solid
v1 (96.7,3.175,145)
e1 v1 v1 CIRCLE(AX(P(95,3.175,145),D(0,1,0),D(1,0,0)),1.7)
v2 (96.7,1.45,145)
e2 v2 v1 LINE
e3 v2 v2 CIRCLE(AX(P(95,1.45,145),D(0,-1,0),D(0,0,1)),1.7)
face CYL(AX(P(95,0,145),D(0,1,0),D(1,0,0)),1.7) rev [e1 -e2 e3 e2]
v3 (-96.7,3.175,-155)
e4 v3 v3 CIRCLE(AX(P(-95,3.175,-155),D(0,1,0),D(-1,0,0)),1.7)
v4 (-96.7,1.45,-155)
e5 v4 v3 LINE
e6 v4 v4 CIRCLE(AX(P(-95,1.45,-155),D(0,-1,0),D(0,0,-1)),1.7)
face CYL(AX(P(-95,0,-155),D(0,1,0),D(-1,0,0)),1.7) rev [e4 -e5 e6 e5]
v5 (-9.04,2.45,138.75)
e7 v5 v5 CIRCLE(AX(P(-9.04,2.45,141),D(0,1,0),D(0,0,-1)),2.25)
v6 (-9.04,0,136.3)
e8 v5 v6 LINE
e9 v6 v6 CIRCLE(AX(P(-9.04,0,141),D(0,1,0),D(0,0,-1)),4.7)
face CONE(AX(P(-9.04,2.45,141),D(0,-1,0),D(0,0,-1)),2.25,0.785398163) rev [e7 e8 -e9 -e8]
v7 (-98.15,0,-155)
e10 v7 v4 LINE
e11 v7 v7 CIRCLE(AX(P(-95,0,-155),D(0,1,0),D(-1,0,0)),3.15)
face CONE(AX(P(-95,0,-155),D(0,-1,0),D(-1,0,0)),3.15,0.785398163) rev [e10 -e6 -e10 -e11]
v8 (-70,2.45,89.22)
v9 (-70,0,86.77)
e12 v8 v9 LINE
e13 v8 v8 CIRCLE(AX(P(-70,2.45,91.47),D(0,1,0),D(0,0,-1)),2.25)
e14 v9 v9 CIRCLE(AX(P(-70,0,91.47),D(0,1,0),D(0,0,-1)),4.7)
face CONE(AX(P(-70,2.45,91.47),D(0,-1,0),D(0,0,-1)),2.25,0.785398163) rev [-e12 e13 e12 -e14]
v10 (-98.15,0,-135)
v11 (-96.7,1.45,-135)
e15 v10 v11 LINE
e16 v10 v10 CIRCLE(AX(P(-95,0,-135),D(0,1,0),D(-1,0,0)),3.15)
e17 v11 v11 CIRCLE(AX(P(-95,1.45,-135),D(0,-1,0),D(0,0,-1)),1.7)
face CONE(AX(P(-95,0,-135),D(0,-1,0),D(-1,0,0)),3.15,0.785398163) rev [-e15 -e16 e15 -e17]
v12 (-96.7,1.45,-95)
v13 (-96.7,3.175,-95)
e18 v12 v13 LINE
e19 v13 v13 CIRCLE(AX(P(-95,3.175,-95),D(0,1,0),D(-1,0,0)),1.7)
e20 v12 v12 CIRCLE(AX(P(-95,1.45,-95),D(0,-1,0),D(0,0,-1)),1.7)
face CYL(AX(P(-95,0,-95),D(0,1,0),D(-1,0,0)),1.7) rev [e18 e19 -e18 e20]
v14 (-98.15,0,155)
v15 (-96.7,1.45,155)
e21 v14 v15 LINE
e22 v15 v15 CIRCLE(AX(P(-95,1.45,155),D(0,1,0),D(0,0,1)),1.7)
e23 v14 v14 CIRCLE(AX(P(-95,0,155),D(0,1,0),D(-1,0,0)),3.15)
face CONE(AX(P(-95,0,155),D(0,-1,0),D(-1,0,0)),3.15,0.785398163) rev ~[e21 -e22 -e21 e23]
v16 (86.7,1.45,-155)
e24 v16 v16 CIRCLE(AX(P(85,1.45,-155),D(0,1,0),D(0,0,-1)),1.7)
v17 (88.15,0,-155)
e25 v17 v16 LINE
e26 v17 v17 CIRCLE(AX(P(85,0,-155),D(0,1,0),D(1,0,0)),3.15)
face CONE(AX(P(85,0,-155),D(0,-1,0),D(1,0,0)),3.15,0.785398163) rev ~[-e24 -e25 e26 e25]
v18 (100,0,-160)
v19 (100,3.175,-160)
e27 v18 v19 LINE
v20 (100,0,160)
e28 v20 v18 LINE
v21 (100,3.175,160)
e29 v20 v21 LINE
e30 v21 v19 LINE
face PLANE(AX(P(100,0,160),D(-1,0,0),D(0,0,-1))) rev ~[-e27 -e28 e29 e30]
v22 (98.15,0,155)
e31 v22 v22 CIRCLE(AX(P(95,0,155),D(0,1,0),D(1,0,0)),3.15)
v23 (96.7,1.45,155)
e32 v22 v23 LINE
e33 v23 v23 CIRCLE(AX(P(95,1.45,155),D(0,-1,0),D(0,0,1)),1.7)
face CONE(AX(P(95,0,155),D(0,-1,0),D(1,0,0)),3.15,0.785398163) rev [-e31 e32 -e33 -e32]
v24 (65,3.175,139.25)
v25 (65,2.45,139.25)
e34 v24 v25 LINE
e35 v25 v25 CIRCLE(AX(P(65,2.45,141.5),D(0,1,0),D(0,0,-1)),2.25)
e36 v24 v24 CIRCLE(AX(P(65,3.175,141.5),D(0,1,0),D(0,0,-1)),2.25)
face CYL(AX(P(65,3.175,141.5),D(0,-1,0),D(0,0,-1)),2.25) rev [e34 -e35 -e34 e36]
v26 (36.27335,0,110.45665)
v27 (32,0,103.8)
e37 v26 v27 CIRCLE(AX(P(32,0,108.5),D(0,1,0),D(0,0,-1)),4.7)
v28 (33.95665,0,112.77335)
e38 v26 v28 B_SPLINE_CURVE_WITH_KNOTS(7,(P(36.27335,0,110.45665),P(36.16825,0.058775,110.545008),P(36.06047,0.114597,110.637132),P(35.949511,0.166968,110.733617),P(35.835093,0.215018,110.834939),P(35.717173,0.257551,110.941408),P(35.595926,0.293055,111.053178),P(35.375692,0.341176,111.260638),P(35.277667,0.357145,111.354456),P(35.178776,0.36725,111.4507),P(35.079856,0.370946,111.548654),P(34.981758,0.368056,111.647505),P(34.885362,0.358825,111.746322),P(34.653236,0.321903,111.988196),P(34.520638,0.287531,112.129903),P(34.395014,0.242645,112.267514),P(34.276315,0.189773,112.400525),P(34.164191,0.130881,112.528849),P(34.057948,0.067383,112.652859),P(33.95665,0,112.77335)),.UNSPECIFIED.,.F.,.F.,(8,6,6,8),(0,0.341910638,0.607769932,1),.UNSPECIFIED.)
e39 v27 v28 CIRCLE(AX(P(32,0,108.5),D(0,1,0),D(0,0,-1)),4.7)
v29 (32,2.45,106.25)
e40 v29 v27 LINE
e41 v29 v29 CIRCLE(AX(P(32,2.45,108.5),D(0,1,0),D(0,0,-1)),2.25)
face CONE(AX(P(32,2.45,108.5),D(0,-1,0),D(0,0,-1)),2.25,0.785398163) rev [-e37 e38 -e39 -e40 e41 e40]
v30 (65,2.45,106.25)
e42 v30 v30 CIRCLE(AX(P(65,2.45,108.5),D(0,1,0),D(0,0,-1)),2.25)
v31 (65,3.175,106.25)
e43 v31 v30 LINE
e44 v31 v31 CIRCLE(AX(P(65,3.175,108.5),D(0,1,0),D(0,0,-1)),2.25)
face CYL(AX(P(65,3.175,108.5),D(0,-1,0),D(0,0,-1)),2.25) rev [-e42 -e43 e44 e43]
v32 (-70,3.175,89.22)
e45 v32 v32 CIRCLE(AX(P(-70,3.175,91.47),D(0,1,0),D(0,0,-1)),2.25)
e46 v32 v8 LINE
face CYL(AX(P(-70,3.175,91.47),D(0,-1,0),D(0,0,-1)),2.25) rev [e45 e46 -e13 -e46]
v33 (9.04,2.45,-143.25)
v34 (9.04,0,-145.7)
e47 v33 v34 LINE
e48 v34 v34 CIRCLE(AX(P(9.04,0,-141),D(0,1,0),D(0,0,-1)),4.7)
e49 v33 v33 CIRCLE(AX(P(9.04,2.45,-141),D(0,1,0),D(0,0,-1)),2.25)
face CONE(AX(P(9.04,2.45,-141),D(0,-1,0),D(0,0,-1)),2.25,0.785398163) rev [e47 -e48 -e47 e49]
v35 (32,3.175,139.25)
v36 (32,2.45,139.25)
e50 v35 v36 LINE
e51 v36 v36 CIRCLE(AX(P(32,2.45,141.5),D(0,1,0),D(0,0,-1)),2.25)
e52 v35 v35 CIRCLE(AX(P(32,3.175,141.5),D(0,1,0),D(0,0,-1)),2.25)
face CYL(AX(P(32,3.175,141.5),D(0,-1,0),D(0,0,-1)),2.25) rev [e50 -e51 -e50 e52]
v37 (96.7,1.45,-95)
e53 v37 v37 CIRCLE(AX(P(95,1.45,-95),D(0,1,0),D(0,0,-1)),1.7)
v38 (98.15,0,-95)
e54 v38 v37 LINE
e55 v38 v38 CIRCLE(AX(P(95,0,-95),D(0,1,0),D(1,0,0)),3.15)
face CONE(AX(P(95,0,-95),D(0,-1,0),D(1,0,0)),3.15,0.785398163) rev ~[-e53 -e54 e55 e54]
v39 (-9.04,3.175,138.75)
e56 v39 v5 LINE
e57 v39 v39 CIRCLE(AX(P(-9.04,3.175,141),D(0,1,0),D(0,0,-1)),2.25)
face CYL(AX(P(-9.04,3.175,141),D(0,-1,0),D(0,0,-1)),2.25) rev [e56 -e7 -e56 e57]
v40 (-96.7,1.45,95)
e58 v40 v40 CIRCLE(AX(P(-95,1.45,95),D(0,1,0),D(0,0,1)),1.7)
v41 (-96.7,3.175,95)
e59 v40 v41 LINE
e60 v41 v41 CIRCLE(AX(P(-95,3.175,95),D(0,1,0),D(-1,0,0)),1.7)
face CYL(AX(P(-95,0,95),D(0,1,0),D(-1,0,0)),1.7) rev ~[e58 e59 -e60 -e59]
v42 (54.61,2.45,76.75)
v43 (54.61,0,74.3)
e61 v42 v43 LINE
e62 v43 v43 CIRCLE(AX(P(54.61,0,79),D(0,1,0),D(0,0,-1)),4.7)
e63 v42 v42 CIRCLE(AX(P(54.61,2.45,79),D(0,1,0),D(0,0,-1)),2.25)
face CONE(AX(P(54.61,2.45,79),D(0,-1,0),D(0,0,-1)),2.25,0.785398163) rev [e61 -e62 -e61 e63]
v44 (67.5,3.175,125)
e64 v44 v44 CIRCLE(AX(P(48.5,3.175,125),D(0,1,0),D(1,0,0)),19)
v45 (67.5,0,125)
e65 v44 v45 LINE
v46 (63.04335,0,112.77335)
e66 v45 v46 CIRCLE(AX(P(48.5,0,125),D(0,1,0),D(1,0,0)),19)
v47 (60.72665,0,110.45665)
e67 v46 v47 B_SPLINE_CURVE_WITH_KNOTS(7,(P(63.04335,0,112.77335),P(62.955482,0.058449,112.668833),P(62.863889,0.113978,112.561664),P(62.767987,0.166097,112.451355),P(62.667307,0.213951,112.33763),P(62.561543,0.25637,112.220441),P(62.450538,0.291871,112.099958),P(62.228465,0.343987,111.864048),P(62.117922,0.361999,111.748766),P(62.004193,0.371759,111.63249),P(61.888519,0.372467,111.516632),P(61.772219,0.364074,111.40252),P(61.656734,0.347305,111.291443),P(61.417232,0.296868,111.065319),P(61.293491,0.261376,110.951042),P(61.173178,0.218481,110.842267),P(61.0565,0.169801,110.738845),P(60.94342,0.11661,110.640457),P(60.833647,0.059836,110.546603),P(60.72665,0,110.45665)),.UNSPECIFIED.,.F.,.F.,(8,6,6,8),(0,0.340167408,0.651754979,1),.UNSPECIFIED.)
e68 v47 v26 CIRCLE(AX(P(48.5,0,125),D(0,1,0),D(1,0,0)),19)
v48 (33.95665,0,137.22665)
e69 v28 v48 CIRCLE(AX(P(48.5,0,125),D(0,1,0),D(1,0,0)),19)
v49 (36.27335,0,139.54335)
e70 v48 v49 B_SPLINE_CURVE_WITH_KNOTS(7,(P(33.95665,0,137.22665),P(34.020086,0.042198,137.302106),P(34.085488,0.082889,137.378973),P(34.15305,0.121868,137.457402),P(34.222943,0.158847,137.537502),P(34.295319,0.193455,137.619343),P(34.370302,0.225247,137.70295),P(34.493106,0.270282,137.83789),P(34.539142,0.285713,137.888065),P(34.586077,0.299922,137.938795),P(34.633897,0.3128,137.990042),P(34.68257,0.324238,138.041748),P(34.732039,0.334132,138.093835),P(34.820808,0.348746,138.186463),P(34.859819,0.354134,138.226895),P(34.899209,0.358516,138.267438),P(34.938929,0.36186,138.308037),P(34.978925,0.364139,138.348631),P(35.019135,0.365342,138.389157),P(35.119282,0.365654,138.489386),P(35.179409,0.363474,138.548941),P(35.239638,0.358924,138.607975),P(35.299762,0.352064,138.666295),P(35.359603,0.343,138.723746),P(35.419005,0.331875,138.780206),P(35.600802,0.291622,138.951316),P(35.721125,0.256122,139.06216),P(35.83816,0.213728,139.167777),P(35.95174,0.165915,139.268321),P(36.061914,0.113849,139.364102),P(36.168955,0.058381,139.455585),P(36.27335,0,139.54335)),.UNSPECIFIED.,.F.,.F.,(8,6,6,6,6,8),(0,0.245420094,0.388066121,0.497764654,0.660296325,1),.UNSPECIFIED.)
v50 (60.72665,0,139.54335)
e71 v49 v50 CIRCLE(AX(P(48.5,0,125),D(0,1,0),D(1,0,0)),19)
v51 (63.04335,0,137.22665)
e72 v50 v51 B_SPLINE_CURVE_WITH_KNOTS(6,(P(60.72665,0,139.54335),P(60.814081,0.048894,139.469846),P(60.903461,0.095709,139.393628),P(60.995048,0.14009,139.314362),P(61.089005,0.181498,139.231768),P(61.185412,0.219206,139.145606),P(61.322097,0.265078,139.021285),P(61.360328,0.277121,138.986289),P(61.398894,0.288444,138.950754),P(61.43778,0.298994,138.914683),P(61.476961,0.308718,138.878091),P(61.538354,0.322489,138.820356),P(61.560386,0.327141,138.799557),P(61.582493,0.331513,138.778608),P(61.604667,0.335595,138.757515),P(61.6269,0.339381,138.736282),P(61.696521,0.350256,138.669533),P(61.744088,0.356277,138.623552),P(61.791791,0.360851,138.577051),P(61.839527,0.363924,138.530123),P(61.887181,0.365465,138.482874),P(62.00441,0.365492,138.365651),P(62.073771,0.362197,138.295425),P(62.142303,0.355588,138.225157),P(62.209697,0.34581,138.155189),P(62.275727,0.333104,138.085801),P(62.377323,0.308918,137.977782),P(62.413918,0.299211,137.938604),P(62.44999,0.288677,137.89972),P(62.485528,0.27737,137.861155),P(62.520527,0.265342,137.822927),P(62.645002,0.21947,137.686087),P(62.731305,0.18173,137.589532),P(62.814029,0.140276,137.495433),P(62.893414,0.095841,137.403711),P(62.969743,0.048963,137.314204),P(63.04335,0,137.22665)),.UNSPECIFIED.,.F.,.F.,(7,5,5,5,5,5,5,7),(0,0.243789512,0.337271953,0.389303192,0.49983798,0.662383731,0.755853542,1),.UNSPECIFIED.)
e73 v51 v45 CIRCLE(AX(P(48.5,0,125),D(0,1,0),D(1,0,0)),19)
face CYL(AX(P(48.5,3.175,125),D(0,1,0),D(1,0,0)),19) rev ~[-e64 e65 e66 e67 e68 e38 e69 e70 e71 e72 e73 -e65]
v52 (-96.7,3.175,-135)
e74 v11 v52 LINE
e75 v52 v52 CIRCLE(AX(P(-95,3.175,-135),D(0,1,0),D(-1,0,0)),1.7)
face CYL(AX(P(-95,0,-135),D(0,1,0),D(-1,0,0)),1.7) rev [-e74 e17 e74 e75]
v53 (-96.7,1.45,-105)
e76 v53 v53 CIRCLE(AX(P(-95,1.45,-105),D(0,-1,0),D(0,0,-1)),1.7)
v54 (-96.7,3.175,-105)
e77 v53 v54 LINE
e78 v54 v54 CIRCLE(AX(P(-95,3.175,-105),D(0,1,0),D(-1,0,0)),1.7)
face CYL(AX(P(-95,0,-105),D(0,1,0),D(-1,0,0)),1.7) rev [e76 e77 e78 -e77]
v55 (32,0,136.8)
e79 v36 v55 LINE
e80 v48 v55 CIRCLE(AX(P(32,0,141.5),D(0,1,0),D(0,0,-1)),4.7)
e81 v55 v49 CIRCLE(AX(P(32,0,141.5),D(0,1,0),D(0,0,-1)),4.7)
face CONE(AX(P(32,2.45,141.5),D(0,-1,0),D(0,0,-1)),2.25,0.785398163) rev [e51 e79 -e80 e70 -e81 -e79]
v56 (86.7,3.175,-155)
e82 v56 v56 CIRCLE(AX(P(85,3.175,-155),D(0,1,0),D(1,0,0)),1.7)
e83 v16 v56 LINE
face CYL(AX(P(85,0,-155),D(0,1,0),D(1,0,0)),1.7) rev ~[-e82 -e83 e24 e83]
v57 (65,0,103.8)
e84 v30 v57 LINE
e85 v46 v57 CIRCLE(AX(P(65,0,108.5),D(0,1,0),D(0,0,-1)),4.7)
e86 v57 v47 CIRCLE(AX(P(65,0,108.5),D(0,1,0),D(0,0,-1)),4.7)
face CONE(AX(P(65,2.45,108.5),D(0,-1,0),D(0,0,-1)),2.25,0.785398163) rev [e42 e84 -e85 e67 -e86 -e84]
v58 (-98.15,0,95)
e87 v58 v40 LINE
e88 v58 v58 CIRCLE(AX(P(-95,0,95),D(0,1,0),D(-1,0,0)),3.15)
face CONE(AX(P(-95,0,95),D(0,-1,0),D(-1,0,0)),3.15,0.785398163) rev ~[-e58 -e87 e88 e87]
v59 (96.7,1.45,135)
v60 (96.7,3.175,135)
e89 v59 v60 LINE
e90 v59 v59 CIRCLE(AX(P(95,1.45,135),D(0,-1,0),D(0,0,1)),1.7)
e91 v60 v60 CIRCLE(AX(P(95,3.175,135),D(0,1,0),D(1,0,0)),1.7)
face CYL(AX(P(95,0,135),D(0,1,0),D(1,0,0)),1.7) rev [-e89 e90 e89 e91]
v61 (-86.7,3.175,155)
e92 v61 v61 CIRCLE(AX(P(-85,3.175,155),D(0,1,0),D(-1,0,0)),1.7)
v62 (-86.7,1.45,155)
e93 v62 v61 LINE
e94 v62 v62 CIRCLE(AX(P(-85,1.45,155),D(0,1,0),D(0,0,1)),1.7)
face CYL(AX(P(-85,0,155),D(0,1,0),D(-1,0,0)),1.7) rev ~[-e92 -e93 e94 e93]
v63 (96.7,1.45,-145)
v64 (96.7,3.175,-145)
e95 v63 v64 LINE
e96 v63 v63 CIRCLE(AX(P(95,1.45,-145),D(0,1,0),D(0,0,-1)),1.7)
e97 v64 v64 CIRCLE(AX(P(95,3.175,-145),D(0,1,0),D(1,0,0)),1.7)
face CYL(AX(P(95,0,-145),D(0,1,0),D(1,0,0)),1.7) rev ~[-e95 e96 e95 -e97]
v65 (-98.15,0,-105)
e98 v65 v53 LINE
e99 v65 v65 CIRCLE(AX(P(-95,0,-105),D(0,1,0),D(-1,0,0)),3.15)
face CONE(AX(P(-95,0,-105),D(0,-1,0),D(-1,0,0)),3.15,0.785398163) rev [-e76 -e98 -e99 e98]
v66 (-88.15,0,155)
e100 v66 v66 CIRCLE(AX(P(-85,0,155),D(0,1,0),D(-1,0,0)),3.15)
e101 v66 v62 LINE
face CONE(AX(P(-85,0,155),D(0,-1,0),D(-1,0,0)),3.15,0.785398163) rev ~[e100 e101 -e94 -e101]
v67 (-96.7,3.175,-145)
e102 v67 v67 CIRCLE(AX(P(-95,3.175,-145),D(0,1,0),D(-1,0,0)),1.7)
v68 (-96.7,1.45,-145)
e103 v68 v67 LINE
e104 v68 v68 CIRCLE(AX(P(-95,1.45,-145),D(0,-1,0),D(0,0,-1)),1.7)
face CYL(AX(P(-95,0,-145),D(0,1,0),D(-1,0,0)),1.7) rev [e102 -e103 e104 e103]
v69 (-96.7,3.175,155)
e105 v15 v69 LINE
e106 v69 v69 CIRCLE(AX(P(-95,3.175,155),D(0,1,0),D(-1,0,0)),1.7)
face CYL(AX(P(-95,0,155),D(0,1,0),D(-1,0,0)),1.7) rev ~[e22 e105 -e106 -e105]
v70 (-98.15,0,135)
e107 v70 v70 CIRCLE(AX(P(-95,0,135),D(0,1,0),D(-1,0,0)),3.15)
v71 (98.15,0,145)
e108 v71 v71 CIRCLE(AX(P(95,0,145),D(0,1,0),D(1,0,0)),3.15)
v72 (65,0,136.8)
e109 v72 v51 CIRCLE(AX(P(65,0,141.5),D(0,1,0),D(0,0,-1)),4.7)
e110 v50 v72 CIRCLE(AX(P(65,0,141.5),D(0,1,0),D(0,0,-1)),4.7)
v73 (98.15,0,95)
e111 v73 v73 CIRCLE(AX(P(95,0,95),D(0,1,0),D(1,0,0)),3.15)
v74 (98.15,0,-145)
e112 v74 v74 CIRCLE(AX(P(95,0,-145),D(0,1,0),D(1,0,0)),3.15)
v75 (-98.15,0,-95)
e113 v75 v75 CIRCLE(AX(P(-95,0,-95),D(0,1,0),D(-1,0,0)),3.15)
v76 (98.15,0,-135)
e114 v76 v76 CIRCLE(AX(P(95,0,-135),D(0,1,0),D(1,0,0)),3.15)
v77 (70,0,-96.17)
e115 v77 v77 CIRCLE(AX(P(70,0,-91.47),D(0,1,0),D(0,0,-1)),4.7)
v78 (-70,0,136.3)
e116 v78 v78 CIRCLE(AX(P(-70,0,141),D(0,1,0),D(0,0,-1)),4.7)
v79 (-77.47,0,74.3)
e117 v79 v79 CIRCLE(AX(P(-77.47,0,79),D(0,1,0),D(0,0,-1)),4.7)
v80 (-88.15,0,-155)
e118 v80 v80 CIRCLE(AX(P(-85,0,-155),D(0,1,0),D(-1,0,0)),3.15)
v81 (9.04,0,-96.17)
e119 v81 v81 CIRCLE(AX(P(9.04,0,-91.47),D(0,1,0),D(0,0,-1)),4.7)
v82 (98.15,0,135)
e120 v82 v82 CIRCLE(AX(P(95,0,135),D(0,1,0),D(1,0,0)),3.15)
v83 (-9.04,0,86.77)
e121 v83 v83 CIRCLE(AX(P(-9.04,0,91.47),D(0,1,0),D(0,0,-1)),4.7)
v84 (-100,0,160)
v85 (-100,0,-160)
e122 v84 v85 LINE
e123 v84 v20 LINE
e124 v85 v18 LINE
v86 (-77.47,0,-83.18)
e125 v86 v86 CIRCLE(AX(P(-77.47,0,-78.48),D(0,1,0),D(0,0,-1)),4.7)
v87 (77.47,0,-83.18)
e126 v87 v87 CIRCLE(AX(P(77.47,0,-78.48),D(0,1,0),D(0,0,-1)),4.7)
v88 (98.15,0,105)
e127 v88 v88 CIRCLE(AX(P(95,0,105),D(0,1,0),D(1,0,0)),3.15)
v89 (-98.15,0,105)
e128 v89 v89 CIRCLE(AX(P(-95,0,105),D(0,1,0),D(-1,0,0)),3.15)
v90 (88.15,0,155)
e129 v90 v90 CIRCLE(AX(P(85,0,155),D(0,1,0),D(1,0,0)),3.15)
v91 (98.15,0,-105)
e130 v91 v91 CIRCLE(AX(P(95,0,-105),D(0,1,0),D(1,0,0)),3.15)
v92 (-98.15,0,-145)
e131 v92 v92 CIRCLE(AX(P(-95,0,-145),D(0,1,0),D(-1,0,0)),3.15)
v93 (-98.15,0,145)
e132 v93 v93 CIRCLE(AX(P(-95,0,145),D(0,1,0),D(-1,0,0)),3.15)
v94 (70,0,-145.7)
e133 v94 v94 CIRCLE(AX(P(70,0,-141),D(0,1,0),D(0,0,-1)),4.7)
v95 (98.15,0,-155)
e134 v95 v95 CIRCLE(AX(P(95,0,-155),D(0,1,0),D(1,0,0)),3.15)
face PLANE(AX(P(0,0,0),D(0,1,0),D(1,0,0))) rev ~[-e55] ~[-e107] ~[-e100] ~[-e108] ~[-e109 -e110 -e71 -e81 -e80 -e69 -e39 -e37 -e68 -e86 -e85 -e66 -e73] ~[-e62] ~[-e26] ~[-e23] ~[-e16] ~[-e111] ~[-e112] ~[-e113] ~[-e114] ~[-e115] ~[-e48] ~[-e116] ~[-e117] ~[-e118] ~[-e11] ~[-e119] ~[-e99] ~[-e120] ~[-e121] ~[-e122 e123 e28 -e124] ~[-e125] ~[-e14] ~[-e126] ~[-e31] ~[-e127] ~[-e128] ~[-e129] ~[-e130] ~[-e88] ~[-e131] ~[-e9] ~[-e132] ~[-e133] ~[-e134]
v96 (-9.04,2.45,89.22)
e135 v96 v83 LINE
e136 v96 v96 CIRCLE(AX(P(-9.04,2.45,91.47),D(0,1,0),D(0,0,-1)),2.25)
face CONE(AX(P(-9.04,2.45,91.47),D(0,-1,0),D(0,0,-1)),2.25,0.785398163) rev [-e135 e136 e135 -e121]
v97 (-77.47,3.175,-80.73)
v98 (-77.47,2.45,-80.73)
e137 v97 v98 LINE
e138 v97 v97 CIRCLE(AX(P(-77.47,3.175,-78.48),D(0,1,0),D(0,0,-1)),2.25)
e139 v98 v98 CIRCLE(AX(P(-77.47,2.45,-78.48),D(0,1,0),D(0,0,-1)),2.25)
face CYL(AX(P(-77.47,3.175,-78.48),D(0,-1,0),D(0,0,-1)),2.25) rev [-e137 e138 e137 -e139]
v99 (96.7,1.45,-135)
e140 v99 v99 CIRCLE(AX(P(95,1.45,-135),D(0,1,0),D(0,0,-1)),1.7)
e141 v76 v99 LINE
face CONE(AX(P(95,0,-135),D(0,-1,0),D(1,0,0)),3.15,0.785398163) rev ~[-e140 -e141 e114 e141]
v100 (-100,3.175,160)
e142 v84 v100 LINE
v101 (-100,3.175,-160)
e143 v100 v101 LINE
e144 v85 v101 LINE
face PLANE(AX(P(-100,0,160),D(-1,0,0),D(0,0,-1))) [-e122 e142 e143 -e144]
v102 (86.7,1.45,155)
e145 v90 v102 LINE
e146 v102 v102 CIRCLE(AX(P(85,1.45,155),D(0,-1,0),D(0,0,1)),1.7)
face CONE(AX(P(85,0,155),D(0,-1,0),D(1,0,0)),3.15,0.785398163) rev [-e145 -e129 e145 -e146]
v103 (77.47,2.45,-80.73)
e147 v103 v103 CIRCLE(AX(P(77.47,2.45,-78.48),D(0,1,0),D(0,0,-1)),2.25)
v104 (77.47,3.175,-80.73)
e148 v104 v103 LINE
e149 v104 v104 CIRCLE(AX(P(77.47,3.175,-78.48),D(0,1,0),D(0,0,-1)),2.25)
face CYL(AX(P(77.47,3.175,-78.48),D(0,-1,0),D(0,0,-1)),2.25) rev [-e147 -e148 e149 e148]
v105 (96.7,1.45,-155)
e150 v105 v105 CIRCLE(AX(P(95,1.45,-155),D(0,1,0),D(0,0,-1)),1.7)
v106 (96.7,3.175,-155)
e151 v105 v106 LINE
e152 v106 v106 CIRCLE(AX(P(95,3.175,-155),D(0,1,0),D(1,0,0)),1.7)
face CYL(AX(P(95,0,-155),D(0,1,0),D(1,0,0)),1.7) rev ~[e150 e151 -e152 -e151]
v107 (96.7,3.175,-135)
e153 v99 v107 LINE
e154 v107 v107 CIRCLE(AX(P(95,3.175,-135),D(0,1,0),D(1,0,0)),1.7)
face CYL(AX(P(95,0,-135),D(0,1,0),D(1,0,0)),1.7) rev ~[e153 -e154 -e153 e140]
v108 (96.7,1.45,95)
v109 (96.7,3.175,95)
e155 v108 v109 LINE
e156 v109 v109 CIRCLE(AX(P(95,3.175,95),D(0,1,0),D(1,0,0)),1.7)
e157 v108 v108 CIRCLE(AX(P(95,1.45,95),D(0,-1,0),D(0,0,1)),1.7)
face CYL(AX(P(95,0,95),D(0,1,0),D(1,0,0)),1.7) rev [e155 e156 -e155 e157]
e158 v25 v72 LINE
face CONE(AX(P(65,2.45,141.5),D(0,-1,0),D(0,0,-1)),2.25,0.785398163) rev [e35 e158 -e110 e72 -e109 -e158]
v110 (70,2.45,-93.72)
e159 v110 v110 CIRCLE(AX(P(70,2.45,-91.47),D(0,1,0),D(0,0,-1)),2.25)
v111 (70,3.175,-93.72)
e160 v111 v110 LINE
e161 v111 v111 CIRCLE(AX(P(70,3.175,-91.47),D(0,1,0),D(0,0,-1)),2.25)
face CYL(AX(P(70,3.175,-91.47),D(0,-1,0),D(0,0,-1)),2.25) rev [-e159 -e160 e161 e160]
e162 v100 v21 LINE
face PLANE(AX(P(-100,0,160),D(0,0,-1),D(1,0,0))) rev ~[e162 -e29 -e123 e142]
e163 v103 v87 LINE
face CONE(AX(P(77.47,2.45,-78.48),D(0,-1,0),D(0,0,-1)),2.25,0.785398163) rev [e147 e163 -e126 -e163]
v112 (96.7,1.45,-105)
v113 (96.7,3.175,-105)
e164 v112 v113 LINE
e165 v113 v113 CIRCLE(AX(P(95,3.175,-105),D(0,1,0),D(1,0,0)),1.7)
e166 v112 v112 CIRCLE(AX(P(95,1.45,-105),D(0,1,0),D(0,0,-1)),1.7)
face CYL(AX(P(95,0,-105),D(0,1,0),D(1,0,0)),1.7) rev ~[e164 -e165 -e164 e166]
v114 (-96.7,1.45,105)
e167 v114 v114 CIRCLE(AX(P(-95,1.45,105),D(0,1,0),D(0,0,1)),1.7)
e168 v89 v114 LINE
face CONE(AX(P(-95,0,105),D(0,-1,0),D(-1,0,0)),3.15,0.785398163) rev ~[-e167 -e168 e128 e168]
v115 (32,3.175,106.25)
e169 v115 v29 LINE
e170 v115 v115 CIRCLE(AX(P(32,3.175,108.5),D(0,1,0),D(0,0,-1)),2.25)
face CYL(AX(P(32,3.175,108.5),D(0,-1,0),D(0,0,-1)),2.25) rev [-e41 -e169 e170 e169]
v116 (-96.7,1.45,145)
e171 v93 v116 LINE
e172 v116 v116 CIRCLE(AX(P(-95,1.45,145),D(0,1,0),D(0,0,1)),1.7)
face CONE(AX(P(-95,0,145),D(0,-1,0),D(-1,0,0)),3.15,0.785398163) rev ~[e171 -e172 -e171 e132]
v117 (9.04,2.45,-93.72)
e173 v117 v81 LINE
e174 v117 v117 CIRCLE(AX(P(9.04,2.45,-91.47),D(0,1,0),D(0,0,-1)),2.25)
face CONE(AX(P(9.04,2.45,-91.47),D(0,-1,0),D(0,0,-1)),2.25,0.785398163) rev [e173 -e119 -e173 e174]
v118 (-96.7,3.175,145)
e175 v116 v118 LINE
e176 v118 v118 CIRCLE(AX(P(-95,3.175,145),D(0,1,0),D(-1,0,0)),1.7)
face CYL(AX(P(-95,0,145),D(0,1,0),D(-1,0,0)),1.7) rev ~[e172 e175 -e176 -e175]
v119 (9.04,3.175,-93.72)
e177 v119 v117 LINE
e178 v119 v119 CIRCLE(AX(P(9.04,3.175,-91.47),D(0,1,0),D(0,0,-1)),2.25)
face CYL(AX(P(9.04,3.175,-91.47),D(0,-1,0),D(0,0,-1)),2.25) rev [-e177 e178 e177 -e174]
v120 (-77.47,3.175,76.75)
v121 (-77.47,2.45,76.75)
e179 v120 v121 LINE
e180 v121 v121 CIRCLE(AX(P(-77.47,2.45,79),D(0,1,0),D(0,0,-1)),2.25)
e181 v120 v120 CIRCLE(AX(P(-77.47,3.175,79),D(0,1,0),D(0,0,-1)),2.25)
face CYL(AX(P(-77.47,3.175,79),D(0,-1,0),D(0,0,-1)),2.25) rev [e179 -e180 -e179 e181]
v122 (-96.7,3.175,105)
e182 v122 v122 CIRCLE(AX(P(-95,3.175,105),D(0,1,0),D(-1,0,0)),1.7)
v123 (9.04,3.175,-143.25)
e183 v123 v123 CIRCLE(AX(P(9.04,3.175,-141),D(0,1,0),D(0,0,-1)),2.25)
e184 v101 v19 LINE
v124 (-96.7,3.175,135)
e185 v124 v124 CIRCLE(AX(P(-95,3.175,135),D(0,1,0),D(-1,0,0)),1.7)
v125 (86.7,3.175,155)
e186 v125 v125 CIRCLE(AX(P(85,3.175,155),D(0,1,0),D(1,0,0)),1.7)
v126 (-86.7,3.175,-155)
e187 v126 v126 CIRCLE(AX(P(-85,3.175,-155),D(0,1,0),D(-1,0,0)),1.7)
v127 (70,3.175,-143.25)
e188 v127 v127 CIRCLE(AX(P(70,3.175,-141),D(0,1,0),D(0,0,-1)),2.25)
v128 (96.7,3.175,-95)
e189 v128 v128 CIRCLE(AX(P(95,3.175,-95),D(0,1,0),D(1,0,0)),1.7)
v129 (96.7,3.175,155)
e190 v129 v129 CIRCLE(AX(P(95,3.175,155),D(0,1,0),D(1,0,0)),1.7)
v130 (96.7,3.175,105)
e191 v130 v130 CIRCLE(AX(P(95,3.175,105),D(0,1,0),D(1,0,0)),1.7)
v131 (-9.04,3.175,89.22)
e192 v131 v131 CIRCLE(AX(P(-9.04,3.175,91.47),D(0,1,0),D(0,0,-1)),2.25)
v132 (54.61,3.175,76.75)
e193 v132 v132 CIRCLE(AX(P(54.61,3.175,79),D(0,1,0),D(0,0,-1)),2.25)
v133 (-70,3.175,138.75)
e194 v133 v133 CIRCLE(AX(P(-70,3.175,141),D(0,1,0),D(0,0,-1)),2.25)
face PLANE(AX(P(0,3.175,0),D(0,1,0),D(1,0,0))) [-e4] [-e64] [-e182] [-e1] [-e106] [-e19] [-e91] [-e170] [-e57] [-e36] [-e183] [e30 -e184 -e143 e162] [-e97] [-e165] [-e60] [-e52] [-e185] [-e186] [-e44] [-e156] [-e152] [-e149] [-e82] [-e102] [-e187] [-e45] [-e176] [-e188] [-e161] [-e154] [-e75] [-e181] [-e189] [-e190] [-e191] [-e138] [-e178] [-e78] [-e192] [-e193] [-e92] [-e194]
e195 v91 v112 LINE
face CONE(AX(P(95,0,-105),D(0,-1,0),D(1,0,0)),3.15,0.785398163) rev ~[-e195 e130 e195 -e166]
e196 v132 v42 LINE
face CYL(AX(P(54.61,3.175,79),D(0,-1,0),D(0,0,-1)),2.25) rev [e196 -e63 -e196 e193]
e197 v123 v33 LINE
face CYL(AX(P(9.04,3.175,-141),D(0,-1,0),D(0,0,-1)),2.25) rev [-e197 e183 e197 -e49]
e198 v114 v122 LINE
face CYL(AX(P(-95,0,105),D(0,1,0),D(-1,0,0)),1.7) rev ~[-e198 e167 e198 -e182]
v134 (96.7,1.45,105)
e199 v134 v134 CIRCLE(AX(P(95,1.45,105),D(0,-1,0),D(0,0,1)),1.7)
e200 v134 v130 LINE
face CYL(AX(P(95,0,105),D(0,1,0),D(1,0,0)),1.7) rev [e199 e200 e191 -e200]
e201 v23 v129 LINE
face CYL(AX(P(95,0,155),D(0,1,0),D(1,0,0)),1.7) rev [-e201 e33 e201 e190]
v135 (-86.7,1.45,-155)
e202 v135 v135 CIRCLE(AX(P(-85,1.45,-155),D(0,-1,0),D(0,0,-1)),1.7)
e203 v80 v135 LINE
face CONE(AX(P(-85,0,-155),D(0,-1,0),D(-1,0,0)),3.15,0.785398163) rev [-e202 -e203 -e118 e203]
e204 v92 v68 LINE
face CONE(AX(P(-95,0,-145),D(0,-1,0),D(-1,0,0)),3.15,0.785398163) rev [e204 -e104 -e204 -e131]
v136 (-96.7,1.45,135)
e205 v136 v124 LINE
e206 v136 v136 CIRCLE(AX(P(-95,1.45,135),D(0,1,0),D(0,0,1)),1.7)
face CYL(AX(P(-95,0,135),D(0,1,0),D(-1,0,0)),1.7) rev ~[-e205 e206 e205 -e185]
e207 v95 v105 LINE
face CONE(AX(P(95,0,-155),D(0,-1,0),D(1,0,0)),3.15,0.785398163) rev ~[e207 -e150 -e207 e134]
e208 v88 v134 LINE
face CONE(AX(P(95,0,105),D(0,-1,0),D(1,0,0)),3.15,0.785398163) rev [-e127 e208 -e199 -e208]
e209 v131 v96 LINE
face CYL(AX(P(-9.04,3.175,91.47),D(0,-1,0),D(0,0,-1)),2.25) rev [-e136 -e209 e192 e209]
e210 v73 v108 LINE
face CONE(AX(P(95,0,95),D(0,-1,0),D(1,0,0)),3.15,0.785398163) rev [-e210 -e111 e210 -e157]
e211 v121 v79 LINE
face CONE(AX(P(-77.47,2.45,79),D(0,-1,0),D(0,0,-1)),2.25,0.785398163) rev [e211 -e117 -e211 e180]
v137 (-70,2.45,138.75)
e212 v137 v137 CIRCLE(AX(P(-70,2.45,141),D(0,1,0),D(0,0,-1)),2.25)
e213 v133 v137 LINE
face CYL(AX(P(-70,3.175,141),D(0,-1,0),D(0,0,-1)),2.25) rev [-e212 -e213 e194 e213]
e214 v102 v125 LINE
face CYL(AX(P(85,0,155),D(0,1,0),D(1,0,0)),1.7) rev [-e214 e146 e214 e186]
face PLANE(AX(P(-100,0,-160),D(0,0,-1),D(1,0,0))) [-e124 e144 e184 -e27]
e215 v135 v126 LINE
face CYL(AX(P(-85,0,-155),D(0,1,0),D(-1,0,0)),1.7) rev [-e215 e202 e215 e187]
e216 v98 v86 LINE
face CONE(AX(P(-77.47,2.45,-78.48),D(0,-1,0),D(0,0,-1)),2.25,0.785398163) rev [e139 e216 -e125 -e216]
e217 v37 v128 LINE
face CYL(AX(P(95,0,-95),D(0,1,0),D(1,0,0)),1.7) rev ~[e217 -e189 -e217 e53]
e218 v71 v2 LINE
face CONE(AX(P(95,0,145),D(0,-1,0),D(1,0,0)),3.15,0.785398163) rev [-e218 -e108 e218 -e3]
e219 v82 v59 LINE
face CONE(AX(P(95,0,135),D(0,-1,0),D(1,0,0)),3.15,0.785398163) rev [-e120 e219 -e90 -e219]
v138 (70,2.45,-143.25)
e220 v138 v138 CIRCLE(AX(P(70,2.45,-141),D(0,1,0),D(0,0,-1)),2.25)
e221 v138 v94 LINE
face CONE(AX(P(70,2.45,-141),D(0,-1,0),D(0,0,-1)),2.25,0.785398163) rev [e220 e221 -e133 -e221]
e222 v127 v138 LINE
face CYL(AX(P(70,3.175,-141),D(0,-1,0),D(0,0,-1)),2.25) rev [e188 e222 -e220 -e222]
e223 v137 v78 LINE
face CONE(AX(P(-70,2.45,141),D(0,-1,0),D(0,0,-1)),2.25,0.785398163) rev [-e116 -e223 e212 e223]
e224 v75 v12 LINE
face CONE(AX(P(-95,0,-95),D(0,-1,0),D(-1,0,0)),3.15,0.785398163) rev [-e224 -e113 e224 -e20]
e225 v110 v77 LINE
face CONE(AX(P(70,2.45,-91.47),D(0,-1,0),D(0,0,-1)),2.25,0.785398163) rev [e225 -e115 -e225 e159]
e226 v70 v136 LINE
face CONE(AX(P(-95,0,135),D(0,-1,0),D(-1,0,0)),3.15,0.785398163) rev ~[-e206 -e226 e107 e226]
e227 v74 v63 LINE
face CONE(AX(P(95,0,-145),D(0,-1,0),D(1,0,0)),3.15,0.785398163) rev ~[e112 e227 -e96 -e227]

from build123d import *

# Parameters (mm, degrees)
SKETCH1_W                                       = 200
SKETCH1_H                                       = 320
BOSS_EXTRUDE1_DEPTH                             = 3.175
CSK_FOR_M3_FLAT_HEAD_MACHINE_SCREW1_D           = 3.4
CSK_FOR_M3_FLAT_HEAD_MACHINE_SCREW1_CSINK_D     = 6.3
CSK_FOR_M3_FLAT_HEAD_MACHINE_SCREW1_CSINK_ANGLE = 90
MIRROR2_COPY_1_D                                = 3.4
MIRROR2_COPY_1_CSINK_D                          = 6.3
MIRROR2_COPY_1_CSINK_ANGLE                      = 90
CSK_FOR_M4_FLAT_HEAD_MACHINE_SCREW1_AT_2_COUNT  = 2
CSK_FOR_M4_FLAT_HEAD_MACHINE_SCREW1_AT_2_PITCH  = 64.709214954
CSK_FOR_M4_FLAT_HEAD_MACHINE_SCREW1_AT_3_COUNT  = 2
CSK_FOR_M4_FLAT_HEAD_MACHINE_SCREW1_AT_3_PITCH  = 44.433123905
CSK_FOR_M4_FLAT_HEAD_MACHINE_SCREW1_AT_4_COUNT  = 2
CSK_FOR_M4_FLAT_HEAD_MACHINE_SCREW1_AT_4_PITCH  = 75.973301231
CSK_FOR_M4_FLAT_HEAD_MACHINE_SCREW1_AT_5_COUNT  = 2
CSK_FOR_M4_FLAT_HEAD_MACHINE_SCREW1_AT_5_PITCH  = 78.545162168
CSK_FOR_M4_FLAT_HEAD_MACHINE_SCREW1_AT_6_COUNT  = 2
CSK_FOR_M4_FLAT_HEAD_MACHINE_SCREW1_AT_6_PITCH  = 60.96
CSK_FOR_M4_FLAT_HEAD_MACHINE_SCREW1_AT_7_COUNT  = 2
CSK_FOR_M4_FLAT_HEAD_MACHINE_SCREW1_AT_7_PITCH  = 49.53
CSK_FOR_M4_FLAT_HEAD_MACHINE_SCREW1_AT_8_COUNT  = 2
CSK_FOR_M4_FLAT_HEAD_MACHINE_SCREW1_AT_8_PITCH  = 89.358393562
CSK_FOR_M4_FLAT_HEAD_MACHINE_SCREW1_AT_9_COUNT  = 2
CSK_FOR_M4_FLAT_HEAD_MACHINE_SCREW1_AT_9_PITCH  = 245.539452023
CSK_FOR_M4_FLAT_HEAD_MACHINE_SCREW1_AT_1_COUNT  = 2
CSK_FOR_M4_FLAT_HEAD_MACHINE_SCREW1_AT_1_PITCH  = 233.172012257
CSK_FOR_M4_FLAT_HEAD_MACHINE_SCREW1_2_COUNT     = 2
CSK_FOR_M4_FLAT_HEAD_MACHINE_SCREW1_2_PITCH     = 183.831254144
CSK_FOR_M4_FLAT_HEAD_MACHINE_SCREW1_3_COUNT     = 2
CSK_FOR_M4_FLAT_HEAD_MACHINE_SCREW1_3_PITCH     = 199.284633627
CSK_FOR_M4_FLAT_HEAD_MACHINE_SCREW1_4_COUNT     = 2
CSK_FOR_M4_FLAT_HEAD_MACHINE_SCREW1_4_PITCH     = 64.860029294
CSK_FOR_M4_FLAT_HEAD_MACHINE_SCREW1_5_COUNT     = 2
CSK_FOR_M4_FLAT_HEAD_MACHINE_SCREW1_5_PITCH     = 190.701291553
CSK_FOR_M4_FLAT_HEAD_MACHINE_SCREW1_6_COUNT     = 2
CSK_FOR_M4_FLAT_HEAD_MACHINE_SCREW1_6_PITCH     = 183.209354019
CSK_FOR_M4_FLAT_HEAD_MACHINE_SCREW1_7_COUNT     = 2
CSK_FOR_M4_FLAT_HEAD_MACHINE_SCREW1_7_PITCH     = 69.556924889
SKETCH8_R                                       = 19
CUT_EXTRUDE1_DEPTH                              = 4.175


with BuildPart() as part:
    # Sketch1 → Boss-Extrude1 (new body)
    with BuildSketch(Plane(origin=(0, 0, 0), x_dir=(1, 0, 0), z_dir=(0, 1, 0))):
        Rectangle(SKETCH1_W, SKETCH1_H)
    extrude(amount=BOSS_EXTRUDE1_DEPTH)

    # CSK for M3 Flat Head Machine Screw1 (through all)
    with Locations(Plane.XZ):
        with Locations((-95, 155), (-85, 155), (-95, 145), (-95, 135), (-95, 105), (-95, 95)):
            csk_for_m3_flat_head_machine_screw1 = CounterSinkHole(CSK_FOR_M3_FLAT_HEAD_MACHINE_SCREW1_D / 2, CSK_FOR_M3_FLAT_HEAD_MACHINE_SCREW1_CSINK_D / 2, counter_sink_angle=CSK_FOR_M3_FLAT_HEAD_MACHINE_SCREW1_CSINK_ANGLE)

    # Mirror1: CSK for M3 Flat Head Machine Screw1 across plane
    add(csk_for_m3_flat_head_machine_screw1.mirror(Plane(origin=(0, 0, 0), x_dir=(0, 0, 1), z_dir=(1, 0, 0))), mode=Mode.SUBTRACT)

    # Mirror2: CSK for M3 Flat Head Machine Screw1 across plane
    add(csk_for_m3_flat_head_machine_screw1.mirror(Plane.XY), mode=Mode.SUBTRACT)

    # Mirror2 copy 1 (through all)
    with Locations(Plane(origin=(0, 0, 0), x_dir=(-1, 0, 0), z_dir=(0, -1, 0))):
        with Locations((-95, 155), (-85, 155), (-95, 145), (-95, 135), (-95, 105), (-95, 95)):
            CounterSinkHole(MIRROR2_COPY_1_D / 2, MIRROR2_COPY_1_CSINK_D / 2, counter_sink_angle=MIRROR2_COPY_1_CSINK_ANGLE)

    # Sketch6 → CSK for M4 Flat Head Machine Screw1 (revolve, cut)
    with BuildSketch(Plane(origin=(-9.04, 0, 91.47), x_dir=(0, 0, -1), z_dir=(1, 0, 0))):
        Polygon((0, 0), (0, 3.175), (2.25, 3.175), (2.25, 2.45), (4.7, 0), align=None)
    csk_for_m4_flat_head_machine_screw1 = revolve(axis=Axis((-9.04, -6.35, 91.47), (0, 1, 0)), mode=Mode.SUBTRACT)

    # CSK for M4 Flat Head Machine Screw1 at 2: CSK for M4 Flat Head Machine Screw1 ×2
    with Locations(*[Vector(0.634221881, 0, 0.773151089) * (i * CSK_FOR_M4_FLAT_HEAD_MACHINE_SCREW1_AT_2_PITCH) for i in range(1, CSK_FOR_M4_FLAT_HEAD_MACHINE_SCREW1_AT_2_COUNT)]):
        add(csk_for_m4_flat_head_machine_screw1, mode=Mode.SUBTRACT)

    # CSK for M4 Flat Head Machine Screw1 at 3: CSK for M4 Flat Head Machine Screw1 ×2
    with Locations(*[Vector(0.923635261, 0, 0.383272624) * (i * CSK_FOR_M4_FLAT_HEAD_MACHINE_SCREW1_AT_3_PITCH) for i in range(1, CSK_FOR_M4_FLAT_HEAD_MACHINE_SCREW1_AT_3_COUNT)]):
        add(csk_for_m4_flat_head_machine_screw1, mode=Mode.SUBTRACT)

    # CSK for M4 Flat Head Machine Screw1 at 4: CSK for M4 Flat Head Machine Screw1 ×2
    with Locations(*[Vector(0.974552886, 0, 0.224157694) * (i * CSK_FOR_M4_FLAT_HEAD_MACHINE_SCREW1_AT_4_PITCH) for i in range(1, CSK_FOR_M4_FLAT_HEAD_MACHINE_SCREW1_AT_4_COUNT)]):
        add(csk_for_m4_flat_head_machine_screw1, mode=Mode.SUBTRACT)

    # CSK for M4 Flat Head Machine Screw1 at 5: CSK for M4 Flat Head Machine Screw1 ×2
    with Locations(*[Vector(-0.776114, 0, 0.630592625) * (i * CSK_FOR_M4_FLAT_HEAD_MACHINE_SCREW1_AT_5_PITCH) for i in range(1, CSK_FOR_M4_FLAT_HEAD_MACHINE_SCREW1_AT_5_COUNT)]):
        add(csk_for_m4_flat_head_machine_screw1, mode=Mode.SUBTRACT)

    # CSK for M4 Flat Head Machine Screw1 at 6: CSK for M4 Flat Head Machine Screw1 ×2
    with Locations(*[(-i * CSK_FOR_M4_FLAT_HEAD_MACHINE_SCREW1_AT_6_PITCH, 0, 0) for i in range(1, CSK_FOR_M4_FLAT_HEAD_MACHINE_SCREW1_AT_6_COUNT)]):
        add(csk_for_m4_flat_head_machine_screw1, mode=Mode.SUBTRACT)

    # CSK for M4 Flat Head Machine Screw1 at 7: CSK for M4 Flat Head Machine Screw1 ×2
    with Locations(*[(0, 0, i * CSK_FOR_M4_FLAT_HEAD_MACHINE_SCREW1_AT_7_PITCH) for i in range(1, CSK_FOR_M4_FLAT_HEAD_MACHINE_SCREW1_AT_7_COUNT)]):
        add(csk_for_m4_flat_head_machine_screw1, mode=Mode.SUBTRACT)

    # CSK for M4 Flat Head Machine Screw1 at 8: CSK for M4 Flat Head Machine Screw1 ×2
    with Locations(*[Vector(0.828573535, 0, 0.559880253) * (i * CSK_FOR_M4_FLAT_HEAD_MACHINE_SCREW1_AT_8_PITCH) for i in range(1, CSK_FOR_M4_FLAT_HEAD_MACHINE_SCREW1_AT_8_COUNT)]):
        add(csk_for_m4_flat_head_machine_screw1, mode=Mode.SUBTRACT)

    # CSK for M4 Flat Head Machine Screw1 at 9: CSK for M4 Flat Head Machine Screw1 ×2
    with Locations(*[Vector(0.321903463, 0, -0.946772497) * (i * CSK_FOR_M4_FLAT_HEAD_MACHINE_SCREW1_AT_9_PITCH) for i in range(1, CSK_FOR_M4_FLAT_HEAD_MACHINE_SCREW1_AT_9_COUNT)]):
        add(csk_for_m4_flat_head_machine_screw1, mode=Mode.SUBTRACT)

    # CSK for M4 Flat Head Machine Screw1 at 1: CSK for M4 Flat Head Machine Screw1 ×2
    with Locations(*[Vector(0.077539323, 0, -0.996989295) * (i * CSK_FOR_M4_FLAT_HEAD_MACHINE_SCREW1_AT_1_PITCH) for i in range(1, CSK_FOR_M4_FLAT_HEAD_MACHINE_SCREW1_AT_1_COUNT)]):
        add(csk_for_m4_flat_head_machine_screw1, mode=Mode.SUBTRACT)

    # CSK for M4 Flat Head Machine Screw1  2: CSK for M4 Flat Head Machine Screw1 ×2
    with Locations(*[Vector(0.098351067, 0, -0.995151781) * (i * CSK_FOR_M4_FLAT_HEAD_MACHINE_SCREW1_2_PITCH) for i in range(1, CSK_FOR_M4_FLAT_HEAD_MACHINE_SCREW1_2_COUNT)]):
        add(csk_for_m4_flat_head_machine_screw1, mode=Mode.SUBTRACT)

    # CSK for M4 Flat Head Machine Screw1  3: CSK for M4 Flat Head Machine Screw1 ×2
    with Locations(*[Vector(0.396618638, 0, -0.917983473) * (i * CSK_FOR_M4_FLAT_HEAD_MACHINE_SCREW1_3_PITCH) for i in range(1, CSK_FOR_M4_FLAT_HEAD_MACHINE_SCREW1_3_COUNT)]):
        add(csk_for_m4_flat_head_machine_screw1, mode=Mode.SUBTRACT)

    # CSK for M4 Flat Head Machine Screw1  4: CSK for M4 Flat Head Machine Screw1 ×2
    with Locations(*[Vector(0.981343991, 0, -0.192260166) * (i * CSK_FOR_M4_FLAT_HEAD_MACHINE_SCREW1_4_PITCH) for i in range(1, CSK_FOR_M4_FLAT_HEAD_MACHINE_SCREW1_4_COUNT)]):
        add(csk_for_m4_flat_head_machine_screw1, mode=Mode.SUBTRACT)

    # CSK for M4 Flat Head Machine Screw1  5: CSK for M4 Flat Head Machine Screw1 ×2
    with Locations(*[Vector(0.453641395, 0, -0.891184316) * (i * CSK_FOR_M4_FLAT_HEAD_MACHINE_SCREW1_5_PITCH) for i in range(1, CSK_FOR_M4_FLAT_HEAD_MACHINE_SCREW1_5_COUNT)]):
        add(csk_for_m4_flat_head_machine_screw1, mode=Mode.SUBTRACT)

    # CSK for M4 Flat Head Machine Screw1  6: CSK for M4 Flat Head Machine Screw1 ×2
    with Locations(*[Vector(-0.37350713, 0, -0.927627309) * (i * CSK_FOR_M4_FLAT_HEAD_MACHINE_SCREW1_6_PITCH) for i in range(1, CSK_FOR_M4_FLAT_HEAD_MACHINE_SCREW1_6_COUNT)]):
        add(csk_for_m4_flat_head_machine_screw1, mode=Mode.SUBTRACT)

    # CSK for M4 Flat Head Machine Screw1  7: CSK for M4 Flat Head Machine Screw1 ×2
    with Locations(*[Vector(-0.983798523, 0, -0.179277621) * (i * CSK_FOR_M4_FLAT_HEAD_MACHINE_SCREW1_7_PITCH) for i in range(1, CSK_FOR_M4_FLAT_HEAD_MACHINE_SCREW1_7_COUNT)]):
        add(csk_for_m4_flat_head_machine_screw1, mode=Mode.SUBTRACT)

    # Sketch8 → Cut-Extrude1 (cut, through all)
    with BuildSketch(Plane(origin=(0, 3.175, 0), x_dir=(1, 0, 0), z_dir=(0, 1, 0))):
        with Locations((48.5, -125)):
            Circle(SKETCH8_R)
    extrude(amount=-CUT_EXTRUDE1_DEPTH, mode=Mode.SUBTRACT)


solid = part.part
